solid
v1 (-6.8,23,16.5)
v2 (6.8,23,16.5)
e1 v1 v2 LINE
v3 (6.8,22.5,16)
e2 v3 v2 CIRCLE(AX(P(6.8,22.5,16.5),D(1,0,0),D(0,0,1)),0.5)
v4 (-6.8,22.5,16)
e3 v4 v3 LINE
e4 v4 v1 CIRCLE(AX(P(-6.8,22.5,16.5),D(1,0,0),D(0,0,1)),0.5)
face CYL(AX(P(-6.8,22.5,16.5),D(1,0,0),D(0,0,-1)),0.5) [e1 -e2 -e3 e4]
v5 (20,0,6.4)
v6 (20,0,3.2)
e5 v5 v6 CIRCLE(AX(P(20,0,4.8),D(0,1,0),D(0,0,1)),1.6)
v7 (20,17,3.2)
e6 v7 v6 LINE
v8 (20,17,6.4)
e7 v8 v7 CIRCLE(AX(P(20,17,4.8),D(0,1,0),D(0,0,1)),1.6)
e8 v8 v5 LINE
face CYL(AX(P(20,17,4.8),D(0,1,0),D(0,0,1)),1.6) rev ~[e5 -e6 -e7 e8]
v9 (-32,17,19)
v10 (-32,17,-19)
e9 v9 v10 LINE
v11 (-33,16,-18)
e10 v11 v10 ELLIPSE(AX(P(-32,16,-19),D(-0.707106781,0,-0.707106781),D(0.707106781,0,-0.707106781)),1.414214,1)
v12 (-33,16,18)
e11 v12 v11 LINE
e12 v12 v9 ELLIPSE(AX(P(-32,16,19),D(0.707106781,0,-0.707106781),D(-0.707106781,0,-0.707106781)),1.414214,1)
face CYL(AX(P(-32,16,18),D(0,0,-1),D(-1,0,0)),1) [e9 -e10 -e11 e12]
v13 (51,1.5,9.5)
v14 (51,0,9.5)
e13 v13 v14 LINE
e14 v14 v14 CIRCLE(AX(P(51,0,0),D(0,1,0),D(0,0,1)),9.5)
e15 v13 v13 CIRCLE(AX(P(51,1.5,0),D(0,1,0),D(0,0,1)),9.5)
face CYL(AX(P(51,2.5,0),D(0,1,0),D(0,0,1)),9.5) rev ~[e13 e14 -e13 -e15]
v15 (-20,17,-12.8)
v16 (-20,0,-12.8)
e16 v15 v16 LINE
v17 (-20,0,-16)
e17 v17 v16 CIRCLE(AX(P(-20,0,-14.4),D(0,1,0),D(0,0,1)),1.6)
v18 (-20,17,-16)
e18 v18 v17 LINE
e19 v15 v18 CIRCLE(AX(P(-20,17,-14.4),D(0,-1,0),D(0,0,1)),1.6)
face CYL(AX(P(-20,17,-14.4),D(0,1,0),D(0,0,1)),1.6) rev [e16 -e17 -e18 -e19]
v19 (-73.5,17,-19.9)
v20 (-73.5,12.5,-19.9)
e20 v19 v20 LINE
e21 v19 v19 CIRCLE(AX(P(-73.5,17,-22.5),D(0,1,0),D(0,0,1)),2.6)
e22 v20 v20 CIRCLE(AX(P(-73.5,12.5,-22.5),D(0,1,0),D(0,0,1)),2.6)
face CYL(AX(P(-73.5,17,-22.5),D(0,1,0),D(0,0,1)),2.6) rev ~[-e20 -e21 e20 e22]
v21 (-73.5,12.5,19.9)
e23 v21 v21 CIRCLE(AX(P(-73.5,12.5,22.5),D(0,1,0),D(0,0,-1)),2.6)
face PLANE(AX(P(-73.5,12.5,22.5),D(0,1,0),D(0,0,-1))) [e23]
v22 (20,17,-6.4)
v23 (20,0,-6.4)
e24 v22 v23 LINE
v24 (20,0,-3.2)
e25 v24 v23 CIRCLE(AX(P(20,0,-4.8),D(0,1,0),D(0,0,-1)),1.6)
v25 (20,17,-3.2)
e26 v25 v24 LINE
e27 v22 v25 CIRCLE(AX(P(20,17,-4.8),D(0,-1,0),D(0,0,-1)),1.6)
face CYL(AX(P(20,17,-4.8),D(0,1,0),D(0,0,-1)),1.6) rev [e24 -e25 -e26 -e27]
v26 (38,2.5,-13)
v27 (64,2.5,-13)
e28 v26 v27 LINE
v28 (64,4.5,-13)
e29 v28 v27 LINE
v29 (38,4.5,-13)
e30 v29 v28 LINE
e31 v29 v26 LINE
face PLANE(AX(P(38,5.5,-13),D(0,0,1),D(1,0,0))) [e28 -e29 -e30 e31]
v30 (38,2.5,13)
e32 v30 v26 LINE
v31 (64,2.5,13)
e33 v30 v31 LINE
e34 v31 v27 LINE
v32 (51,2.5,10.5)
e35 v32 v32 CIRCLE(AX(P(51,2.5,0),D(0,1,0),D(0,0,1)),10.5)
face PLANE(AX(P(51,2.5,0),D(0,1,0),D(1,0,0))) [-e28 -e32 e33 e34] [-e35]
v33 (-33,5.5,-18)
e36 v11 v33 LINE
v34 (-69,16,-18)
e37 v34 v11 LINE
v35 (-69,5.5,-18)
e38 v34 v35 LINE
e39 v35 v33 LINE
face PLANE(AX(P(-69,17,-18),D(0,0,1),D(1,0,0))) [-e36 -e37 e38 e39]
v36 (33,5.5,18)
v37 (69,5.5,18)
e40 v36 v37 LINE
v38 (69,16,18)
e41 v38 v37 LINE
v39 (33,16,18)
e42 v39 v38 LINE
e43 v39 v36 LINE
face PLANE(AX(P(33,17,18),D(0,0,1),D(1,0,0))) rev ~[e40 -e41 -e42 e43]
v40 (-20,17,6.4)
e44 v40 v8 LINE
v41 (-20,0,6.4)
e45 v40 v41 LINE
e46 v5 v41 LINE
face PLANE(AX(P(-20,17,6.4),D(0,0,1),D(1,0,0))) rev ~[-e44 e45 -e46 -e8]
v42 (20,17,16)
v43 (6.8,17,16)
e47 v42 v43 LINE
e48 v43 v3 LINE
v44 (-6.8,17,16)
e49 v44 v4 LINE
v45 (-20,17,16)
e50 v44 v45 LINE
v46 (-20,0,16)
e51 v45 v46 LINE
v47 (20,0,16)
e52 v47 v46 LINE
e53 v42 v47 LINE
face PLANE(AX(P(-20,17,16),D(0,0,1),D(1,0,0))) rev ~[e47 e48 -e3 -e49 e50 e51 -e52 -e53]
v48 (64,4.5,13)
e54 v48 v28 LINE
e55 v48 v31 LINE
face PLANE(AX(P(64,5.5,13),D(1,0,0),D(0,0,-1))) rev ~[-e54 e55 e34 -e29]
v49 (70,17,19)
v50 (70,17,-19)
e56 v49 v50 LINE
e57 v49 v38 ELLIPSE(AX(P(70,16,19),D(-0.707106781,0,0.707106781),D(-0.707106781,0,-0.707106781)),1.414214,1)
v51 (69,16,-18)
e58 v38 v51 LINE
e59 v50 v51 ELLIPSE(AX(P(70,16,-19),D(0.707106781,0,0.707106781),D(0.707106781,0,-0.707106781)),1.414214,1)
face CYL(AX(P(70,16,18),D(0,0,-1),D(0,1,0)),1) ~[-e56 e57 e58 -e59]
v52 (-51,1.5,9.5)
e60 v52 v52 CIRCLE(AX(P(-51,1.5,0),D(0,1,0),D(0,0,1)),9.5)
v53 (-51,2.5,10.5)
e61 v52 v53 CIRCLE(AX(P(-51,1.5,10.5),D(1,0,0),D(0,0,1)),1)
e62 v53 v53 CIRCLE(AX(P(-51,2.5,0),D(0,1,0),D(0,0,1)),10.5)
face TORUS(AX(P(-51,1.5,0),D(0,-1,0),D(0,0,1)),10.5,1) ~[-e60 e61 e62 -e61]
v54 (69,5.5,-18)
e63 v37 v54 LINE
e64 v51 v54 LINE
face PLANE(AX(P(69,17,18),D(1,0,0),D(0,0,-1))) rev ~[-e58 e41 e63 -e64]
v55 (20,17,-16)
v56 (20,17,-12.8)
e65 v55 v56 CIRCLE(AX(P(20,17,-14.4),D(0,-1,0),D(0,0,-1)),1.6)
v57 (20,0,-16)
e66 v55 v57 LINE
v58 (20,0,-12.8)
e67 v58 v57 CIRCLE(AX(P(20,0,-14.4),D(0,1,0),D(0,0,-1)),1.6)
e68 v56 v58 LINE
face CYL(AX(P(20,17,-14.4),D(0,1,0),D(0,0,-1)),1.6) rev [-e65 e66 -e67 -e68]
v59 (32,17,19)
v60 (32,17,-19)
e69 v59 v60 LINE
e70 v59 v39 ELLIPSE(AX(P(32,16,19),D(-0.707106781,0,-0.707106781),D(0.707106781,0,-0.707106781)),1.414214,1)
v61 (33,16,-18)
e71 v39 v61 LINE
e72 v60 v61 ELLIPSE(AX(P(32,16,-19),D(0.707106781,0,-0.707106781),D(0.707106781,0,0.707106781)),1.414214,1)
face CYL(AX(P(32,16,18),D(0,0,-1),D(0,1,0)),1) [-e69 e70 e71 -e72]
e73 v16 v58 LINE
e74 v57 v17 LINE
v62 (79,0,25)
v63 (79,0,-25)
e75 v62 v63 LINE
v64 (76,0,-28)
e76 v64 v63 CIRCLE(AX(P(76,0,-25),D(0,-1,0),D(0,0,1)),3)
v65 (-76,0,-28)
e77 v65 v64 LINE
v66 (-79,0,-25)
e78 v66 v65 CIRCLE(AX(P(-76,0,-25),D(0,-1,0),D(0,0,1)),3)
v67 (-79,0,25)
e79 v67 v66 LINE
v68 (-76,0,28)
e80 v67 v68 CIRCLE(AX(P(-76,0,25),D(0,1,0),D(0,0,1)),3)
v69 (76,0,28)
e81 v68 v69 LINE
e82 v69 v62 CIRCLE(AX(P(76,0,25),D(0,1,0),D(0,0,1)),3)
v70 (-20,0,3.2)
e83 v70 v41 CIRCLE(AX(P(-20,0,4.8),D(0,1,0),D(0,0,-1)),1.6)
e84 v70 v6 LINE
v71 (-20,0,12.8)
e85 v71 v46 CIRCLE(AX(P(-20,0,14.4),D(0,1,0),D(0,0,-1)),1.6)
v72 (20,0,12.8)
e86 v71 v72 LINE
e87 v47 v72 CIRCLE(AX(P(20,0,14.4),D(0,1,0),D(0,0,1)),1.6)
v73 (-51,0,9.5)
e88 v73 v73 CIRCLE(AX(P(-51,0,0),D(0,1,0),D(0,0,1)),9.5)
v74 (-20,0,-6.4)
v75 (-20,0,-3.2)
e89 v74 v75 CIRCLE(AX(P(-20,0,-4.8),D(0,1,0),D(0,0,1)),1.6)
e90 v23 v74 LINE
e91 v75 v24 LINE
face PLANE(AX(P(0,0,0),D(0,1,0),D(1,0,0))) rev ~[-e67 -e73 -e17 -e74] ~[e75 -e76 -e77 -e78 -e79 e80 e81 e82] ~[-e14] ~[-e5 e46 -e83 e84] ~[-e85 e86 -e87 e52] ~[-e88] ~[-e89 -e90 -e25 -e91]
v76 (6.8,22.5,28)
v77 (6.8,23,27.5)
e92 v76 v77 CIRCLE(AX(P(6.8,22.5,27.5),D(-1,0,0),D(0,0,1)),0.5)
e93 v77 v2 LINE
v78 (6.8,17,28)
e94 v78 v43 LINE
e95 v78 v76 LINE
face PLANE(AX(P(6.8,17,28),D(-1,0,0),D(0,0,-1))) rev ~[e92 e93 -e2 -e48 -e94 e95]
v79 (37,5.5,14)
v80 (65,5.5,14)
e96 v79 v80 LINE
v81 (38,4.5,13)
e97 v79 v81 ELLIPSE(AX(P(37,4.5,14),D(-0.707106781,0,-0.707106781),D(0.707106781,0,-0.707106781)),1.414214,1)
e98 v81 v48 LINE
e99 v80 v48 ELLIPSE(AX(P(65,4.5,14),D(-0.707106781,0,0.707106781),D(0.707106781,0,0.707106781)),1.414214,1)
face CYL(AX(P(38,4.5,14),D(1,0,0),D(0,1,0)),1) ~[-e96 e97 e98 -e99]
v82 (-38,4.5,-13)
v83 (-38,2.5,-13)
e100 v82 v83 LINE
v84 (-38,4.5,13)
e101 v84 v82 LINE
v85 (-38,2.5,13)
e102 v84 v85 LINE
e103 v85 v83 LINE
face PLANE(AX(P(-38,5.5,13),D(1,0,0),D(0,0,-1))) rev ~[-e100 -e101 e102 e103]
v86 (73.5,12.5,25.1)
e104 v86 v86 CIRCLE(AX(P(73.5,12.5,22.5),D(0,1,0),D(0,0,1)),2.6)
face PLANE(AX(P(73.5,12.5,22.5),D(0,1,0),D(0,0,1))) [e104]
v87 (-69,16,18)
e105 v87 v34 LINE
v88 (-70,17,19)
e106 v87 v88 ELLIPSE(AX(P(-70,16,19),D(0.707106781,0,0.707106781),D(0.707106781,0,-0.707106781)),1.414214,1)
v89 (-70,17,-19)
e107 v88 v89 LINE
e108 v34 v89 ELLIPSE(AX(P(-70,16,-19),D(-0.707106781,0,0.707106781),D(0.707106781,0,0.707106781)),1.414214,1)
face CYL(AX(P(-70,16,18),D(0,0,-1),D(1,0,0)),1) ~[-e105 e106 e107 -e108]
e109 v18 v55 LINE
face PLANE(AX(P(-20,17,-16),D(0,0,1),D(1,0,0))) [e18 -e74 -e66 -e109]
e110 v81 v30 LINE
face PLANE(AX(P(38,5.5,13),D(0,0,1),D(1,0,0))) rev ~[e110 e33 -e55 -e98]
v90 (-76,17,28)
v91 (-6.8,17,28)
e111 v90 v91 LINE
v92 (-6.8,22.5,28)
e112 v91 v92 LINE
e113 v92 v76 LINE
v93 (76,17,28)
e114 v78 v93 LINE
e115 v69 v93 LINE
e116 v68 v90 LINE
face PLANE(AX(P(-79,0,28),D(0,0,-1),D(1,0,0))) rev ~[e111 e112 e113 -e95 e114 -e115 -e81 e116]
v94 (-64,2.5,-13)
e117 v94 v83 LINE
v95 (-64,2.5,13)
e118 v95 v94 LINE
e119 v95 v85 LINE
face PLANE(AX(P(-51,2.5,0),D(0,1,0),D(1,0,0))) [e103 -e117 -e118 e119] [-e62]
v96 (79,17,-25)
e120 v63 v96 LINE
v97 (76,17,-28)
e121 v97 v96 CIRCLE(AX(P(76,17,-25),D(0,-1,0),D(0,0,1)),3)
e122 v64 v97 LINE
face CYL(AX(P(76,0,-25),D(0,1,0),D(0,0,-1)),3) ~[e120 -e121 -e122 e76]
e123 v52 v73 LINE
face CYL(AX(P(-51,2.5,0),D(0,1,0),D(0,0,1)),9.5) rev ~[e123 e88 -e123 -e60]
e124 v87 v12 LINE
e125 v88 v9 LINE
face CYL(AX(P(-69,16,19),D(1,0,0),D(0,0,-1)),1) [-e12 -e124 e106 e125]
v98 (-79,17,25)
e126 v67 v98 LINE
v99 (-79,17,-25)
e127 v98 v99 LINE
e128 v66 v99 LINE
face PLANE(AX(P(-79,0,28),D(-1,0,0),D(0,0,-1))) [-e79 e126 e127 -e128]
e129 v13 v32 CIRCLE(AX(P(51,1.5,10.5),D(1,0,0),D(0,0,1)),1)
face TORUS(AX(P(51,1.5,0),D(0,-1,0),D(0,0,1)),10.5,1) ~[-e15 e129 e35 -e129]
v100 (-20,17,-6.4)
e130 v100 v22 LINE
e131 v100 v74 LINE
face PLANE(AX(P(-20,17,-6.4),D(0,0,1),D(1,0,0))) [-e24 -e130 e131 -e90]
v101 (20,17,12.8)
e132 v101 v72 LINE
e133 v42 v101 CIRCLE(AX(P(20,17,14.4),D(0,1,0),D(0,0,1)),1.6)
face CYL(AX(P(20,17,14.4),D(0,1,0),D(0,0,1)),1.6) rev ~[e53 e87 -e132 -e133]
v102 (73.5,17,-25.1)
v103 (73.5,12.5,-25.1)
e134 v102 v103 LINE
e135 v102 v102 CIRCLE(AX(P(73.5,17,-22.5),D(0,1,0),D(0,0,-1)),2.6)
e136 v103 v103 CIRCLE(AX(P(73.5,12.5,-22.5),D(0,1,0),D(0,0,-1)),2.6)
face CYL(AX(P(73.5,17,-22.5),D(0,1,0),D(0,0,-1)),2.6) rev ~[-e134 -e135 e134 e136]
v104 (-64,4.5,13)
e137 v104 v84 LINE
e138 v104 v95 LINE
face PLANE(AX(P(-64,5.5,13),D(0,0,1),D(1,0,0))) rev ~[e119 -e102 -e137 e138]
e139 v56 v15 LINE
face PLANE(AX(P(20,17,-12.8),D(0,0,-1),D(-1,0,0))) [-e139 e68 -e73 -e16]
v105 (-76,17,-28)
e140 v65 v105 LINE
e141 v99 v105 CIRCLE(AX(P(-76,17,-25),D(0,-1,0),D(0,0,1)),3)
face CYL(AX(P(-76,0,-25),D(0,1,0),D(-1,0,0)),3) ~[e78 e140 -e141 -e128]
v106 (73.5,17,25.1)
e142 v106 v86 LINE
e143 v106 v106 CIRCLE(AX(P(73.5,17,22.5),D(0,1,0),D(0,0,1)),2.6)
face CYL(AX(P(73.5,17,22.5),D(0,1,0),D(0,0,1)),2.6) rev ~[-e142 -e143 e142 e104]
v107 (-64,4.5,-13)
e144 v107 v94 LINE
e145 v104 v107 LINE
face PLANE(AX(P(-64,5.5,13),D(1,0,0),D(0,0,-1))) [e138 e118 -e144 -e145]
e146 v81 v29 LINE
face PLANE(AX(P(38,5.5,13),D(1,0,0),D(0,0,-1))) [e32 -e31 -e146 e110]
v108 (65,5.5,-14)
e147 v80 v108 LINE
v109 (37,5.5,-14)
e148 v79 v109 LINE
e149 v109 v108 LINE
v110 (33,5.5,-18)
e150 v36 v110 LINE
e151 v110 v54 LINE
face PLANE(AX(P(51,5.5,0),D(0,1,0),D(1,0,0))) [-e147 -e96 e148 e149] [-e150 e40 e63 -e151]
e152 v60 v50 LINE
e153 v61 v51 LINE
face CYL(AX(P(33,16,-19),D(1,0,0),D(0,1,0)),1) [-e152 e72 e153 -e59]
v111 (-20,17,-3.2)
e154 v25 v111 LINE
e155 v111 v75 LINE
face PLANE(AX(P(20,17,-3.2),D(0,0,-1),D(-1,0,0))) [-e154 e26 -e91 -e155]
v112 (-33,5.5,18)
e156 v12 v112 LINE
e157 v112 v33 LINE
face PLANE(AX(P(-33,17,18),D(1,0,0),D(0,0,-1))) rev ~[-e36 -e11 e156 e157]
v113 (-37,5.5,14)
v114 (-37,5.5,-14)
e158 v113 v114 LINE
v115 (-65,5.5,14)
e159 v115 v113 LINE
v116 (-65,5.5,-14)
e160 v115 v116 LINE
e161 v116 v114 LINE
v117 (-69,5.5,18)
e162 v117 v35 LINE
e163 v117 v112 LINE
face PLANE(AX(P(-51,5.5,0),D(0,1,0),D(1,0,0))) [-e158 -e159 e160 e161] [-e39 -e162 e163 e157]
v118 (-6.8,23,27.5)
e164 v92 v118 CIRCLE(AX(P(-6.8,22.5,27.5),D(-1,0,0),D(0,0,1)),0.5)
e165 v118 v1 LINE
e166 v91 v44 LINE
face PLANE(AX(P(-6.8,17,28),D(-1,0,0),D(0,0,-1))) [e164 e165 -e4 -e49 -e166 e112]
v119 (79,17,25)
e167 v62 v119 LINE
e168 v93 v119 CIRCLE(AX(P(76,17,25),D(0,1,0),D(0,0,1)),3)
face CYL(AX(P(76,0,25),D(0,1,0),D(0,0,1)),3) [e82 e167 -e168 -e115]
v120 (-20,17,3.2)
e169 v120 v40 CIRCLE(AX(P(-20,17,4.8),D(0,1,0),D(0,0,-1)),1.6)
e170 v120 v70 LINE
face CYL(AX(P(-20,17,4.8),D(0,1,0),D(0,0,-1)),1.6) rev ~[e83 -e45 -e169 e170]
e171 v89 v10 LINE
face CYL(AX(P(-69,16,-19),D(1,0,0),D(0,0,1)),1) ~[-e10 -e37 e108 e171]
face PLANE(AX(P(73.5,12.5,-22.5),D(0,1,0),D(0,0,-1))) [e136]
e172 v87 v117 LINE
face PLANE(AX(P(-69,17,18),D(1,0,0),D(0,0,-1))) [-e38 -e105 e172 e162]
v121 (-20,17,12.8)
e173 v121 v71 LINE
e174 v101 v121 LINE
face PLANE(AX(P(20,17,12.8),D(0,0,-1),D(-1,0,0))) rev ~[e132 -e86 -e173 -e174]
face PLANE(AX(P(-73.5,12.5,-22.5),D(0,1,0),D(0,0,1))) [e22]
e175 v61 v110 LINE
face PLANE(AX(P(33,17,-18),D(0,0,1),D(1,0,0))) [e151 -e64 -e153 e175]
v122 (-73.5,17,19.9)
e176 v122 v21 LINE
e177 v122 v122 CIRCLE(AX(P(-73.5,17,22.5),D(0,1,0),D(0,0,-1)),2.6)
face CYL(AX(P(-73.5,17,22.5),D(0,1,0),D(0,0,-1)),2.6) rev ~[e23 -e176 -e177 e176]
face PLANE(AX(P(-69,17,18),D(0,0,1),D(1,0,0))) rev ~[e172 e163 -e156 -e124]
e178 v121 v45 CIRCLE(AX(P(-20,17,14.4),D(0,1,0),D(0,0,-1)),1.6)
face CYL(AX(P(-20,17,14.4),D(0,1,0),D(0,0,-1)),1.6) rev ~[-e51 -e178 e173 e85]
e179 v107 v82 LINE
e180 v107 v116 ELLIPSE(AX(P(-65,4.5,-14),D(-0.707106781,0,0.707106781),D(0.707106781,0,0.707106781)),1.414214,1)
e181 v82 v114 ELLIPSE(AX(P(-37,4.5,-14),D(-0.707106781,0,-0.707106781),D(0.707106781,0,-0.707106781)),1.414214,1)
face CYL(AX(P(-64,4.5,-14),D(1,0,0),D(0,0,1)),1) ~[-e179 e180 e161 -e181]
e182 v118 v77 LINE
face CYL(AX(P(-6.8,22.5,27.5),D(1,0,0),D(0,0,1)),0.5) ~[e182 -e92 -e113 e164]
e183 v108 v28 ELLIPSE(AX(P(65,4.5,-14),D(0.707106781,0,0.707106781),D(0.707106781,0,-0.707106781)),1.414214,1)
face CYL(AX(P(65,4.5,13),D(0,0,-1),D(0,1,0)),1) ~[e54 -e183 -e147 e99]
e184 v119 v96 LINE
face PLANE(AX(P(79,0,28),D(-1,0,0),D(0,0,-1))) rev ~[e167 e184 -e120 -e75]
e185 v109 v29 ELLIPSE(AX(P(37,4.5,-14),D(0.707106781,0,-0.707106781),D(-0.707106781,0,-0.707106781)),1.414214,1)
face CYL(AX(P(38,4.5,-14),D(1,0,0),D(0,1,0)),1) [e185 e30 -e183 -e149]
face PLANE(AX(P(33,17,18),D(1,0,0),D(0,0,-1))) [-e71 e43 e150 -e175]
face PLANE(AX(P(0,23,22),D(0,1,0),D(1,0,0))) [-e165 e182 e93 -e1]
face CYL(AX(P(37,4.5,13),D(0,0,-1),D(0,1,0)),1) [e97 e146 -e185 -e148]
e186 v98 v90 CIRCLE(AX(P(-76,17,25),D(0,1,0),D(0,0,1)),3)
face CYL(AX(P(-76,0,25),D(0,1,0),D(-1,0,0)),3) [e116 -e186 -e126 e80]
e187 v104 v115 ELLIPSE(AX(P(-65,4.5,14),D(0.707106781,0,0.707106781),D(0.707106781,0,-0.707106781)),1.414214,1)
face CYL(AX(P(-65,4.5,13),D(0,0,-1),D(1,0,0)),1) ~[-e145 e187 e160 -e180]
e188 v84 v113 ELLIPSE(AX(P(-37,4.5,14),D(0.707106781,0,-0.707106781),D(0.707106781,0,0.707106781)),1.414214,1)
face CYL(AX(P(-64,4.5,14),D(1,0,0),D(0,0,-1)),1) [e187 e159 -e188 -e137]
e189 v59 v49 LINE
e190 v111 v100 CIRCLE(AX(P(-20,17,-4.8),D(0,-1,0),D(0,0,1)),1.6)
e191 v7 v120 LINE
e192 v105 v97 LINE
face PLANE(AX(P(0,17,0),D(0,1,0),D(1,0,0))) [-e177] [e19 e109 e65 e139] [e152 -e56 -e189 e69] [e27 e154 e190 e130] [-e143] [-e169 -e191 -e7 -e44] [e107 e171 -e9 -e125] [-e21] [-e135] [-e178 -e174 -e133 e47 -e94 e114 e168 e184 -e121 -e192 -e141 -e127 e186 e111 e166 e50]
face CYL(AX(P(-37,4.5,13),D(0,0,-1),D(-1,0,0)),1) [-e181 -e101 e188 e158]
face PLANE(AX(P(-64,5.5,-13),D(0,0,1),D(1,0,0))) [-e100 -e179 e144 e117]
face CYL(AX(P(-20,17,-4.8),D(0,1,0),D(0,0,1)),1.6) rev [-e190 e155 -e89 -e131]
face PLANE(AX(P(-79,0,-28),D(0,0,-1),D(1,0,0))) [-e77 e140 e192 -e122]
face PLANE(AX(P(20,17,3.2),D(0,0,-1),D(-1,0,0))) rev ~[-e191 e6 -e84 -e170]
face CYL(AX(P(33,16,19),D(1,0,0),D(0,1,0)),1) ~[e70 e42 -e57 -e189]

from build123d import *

# Parameters (mm, degrees)
SKETCH1_W           = 158
SKETCH1_H           = 56
BOSS_EXTRUDE1_DEPTH = 17
SKETCH8_W           = 13.6
SKETCH8_H           = 12
BOSS_EXTRUDE2_DEPTH = 6
SKETCH2_W           = 36
SKETCH2_H           = 36
CUT_EXTRUDE1_DEPTH  = 11.5
SKETCH3_W           = 26
SKETCH3_H           = 26
CUT_EXTRUDE2_DEPTH  = 3
CUT_EXTRUDE3_REACH  = 88.286
SKETCH4_R           = 9.5
SKETCH5_R           = 2.6
CUT_EXTRUDE4_DEPTH  = 4.5
CUT_EXTRUDE5_REACH  = 87.522
FILLET1_R           = 3
FILLET2_R           = 1
FILLET3_R           = 1
FILLET4_R           = 1
FILLET5_R           = 0.5


with BuildPart() as part:
    # Sketch1 → Boss-Extrude1 (new body)
    with BuildSketch(Plane(origin=(0, 0, 0), x_dir=(1, 0, 0), z_dir=(0, 1, 0))):
        Rectangle(SKETCH1_W, SKETCH1_H)
    extrude(amount=BOSS_EXTRUDE1_DEPTH)

    # Sketch8 → Boss-Extrude2 (add)
    with BuildSketch(Plane(origin=(0, 17, 0), x_dir=(1, 0, 0), z_dir=(0, 1, 0))):
        with Locations((0, -22)):
            Rectangle(SKETCH8_W, SKETCH8_H)
    extrude(amount=BOSS_EXTRUDE2_DEPTH)

    # Sketch2 → Cut-Extrude1 (cut)
    with BuildSketch(Plane(origin=(0, 17, 0), x_dir=(1, 0, 0), z_dir=(0, 1, 0))):
        with Locations((-51, 0)):
            Rectangle(SKETCH2_W, SKETCH2_H)
        with Locations((51, 0)):
            Rectangle(SKETCH2_W, SKETCH2_H)
    extrude(amount=-CUT_EXTRUDE1_DEPTH, mode=Mode.SUBTRACT)

    # Sketch3 → Cut-Extrude2 (cut)
    with BuildSketch(Plane(origin=(0, 5.5, 0), x_dir=(1, 0, 0), z_dir=(0, 1, 0))):
        with Locations((51, 0)):
            Rectangle(SKETCH3_W, SKETCH3_H)
        with Locations((-51, 0)):
            Rectangle(SKETCH3_W, SKETCH3_H)
    extrude(amount=-CUT_EXTRUDE2_DEPTH, mode=Mode.SUBTRACT)

    # Sketch4 → Cut-Extrude3 (cut, up to next)
    with BuildSketch(Plane(origin=(0, 2.5, 0), x_dir=(1, 0, 0), z_dir=(0, 1, 0)), mode=Mode.PRIVATE) as cut_extrude3_sk1:
        with Locations(Location((-51, 0, 0), (0, 0, 270))):
            Circle(SKETCH4_R)
    cut_extrude3_tool1 = extrude(cut_extrude3_sk1.sketch, amount=-CUT_EXTRUDE3_REACH, mode=Mode.PRIVATE) & part.part
    # Sketch4 → Cut-Extrude3 (cut, up to next)
    with BuildSketch(Plane(origin=(0, 2.5, 0), x_dir=(1, 0, 0), z_dir=(0, 1, 0)), mode=Mode.PRIVATE) as cut_extrude3_sk2:
        with Locations(Location((51, 0, 0), (0, 0, 270))):
            Circle(SKETCH4_R)
    cut_extrude3_tool2 = extrude(cut_extrude3_sk2.sketch, amount=-CUT_EXTRUDE3_REACH, mode=Mode.PRIVATE) & part.part
    add(cut_extrude3_tool1.solids().sort_by_distance((-51, 2.5, 0))[0], mode=Mode.SUBTRACT)
    add(cut_extrude3_tool2.solids().sort_by_distance((51, 2.5, 0))[0], mode=Mode.SUBTRACT)

    # Sketch5 → Cut-Extrude4 (cut)
    with BuildSketch(Plane(origin=(0, 17, 0), x_dir=(1, 0, 0), z_dir=(0, 1, 0))):
        with Locations(Location((-73.5, 22.5, 0), (0, 0, 270))):
            Circle(SKETCH5_R)
        with Locations(Location((73.5, 22.5, 0), (0, 0, 90))):
            Circle(SKETCH5_R)
        with Locations(Location((73.5, -22.5, 0), (0, 0, 270))):
            Circle(SKETCH5_R)
        with Locations(Location((-73.5, -22.5, 0), (0, 0, 90))):
            Circle(SKETCH5_R)
    extrude(amount=-CUT_EXTRUDE4_DEPTH, mode=Mode.SUBTRACT)

    # Sketch6 → Cut-Extrude5 (cut, up to next)
    with BuildSketch(Plane(origin=(0, 17, 0), x_dir=(1, 0, 0), z_dir=(0, 1, 0)), mode=Mode.PRIVATE) as cut_extrude5_sk1:
        with BuildLine():
            Line((-20, 6.4), (20, 6.4))
            ThreePointArc((20, 6.4), (21.6, 4.8), (20, 3.2))
            Line((20, 3.2), (-20, 3.2))
            ThreePointArc((-20, 3.2), (-21.6, 4.8), (-20, 6.4))
        make_face()
    cut_extrude5_tool1 = extrude(cut_extrude5_sk1.sketch, amount=-CUT_EXTRUDE5_REACH, mode=Mode.PRIVATE) & part.part
    # Sketch6 → Cut-Extrude5 (cut, up to next)
    with BuildSketch(Plane(origin=(0, 17, 0), x_dir=(1, 0, 0), z_dir=(0, 1, 0)), mode=Mode.PRIVATE) as cut_extrude5_sk2:
        with BuildLine():
            Line((-20, 16), (20, 16))
            ThreePointArc((20, 16), (21.6, 14.4), (20, 12.8))
            Line((20, 12.8), (-20, 12.8))
            ThreePointArc((-20, 12.8), (-21.6, 14.4), (-20, 16))
        make_face()
    cut_extrude5_tool2 = extrude(cut_extrude5_sk2.sketch, amount=-CUT_EXTRUDE5_REACH, mode=Mode.PRIVATE) & part.part
    # Sketch6 → Cut-Extrude5 (cut, up to next)
    with BuildSketch(Plane(origin=(0, 17, 0), x_dir=(1, 0, 0), z_dir=(0, 1, 0)), mode=Mode.PRIVATE) as cut_extrude5_sk3:
        with BuildLine():
            Line((-20, -6.4), (20, -6.4))
            ThreePointArc((20, -6.4), (21.6, -4.8), (20, -3.2))
            Line((20, -3.2), (-20, -3.2))
            ThreePointArc((-20, -3.2), (-21.6, -4.8), (-20, -6.4))
        make_face()
    cut_extrude5_tool3 = extrude(cut_extrude5_sk3.sketch, amount=-CUT_EXTRUDE5_REACH, mode=Mode.PRIVATE) & part.part
    # Sketch6 → Cut-Extrude5 (cut, up to next)
    with BuildSketch(Plane(origin=(0, 17, 0), x_dir=(1, 0, 0), z_dir=(0, 1, 0)), mode=Mode.PRIVATE) as cut_extrude5_sk4:
        with BuildLine():
            Line((-20, -16), (20, -16))
            ThreePointArc((20, -16), (21.6, -14.4), (20, -12.8))
            Line((20, -12.8), (-20, -12.8))
            ThreePointArc((-20, -12.8), (-21.6, -14.4), (-20, -16))
        make_face()
    cut_extrude5_tool4 = extrude(cut_extrude5_sk4.sketch, amount=-CUT_EXTRUDE5_REACH, mode=Mode.PRIVATE) & part.part
    add(cut_extrude5_tool1.solids().sort_by_distance((0, 17, -4.8))[0], mode=Mode.SUBTRACT)
    add(cut_extrude5_tool2.solids().sort_by_distance((0, 17, -14.4))[0], mode=Mode.SUBTRACT)
    add(cut_extrude5_tool3.solids().sort_by_distance((0, 17, 4.8))[0], mode=Mode.SUBTRACT)
    add(cut_extrude5_tool4.solids().sort_by_distance((0, 17, 14.4))[0], mode=Mode.SUBTRACT)

    # Fillet1
    fillet1_edges = [part.edges().sort_by_distance(p)[0] for p in [
        (79, 8.5, 28),
        (-79, 8.5, 28),
        (-79, 8.5, -28),
        (79, 8.5, -28),
    ]]
    fillet(fillet1_edges, radius=FILLET1_R)

    # Fillet2
    fillet2_edges = [part.edges().sort_by_distance(p)[0] for p in [
        (-51, 2.5, -9.5),
        (51, 2.5, -9.5),
    ]]
    fillet(fillet2_edges, radius=FILLET2_R)

    # Fillet3
    fillet3_edges = [part.edges().sort_by_distance(p)[0] for p in [
        (38, 5.5, 0),
        (51, 5.5, 13),
        (64, 5.5, 0),
        (51, 5.5, -13),
        (-51, 5.5, -13),
        (-64, 5.5, 0),
        (-51, 5.5, 13),
        (-38, 5.5, 0),
    ]]
    fillet(fillet3_edges, radius=FILLET3_R)

    # Fillet4
    fillet4_edges = [part.edges().sort_by_distance(p)[0] for p in [
        (-33, 17, 0),
        (-51, 17, -18),
        (-69, 17, 0),
        (-51, 17, 18),
        (69, 17, 0),
        (51, 17, -18),
        (33, 17, 0),
        (51, 17, 18),
    ]]
    fillet(fillet4_edges, radius=FILLET4_R)

    # Fillet5
    fillet5_edges = [part.edges().sort_by_distance(p)[0] for p in [
        (0, 23, 28),
        (0, 23, 16),
    ]]
    fillet(fillet5_edges, radius=FILLET5_R)


solid = part.part
